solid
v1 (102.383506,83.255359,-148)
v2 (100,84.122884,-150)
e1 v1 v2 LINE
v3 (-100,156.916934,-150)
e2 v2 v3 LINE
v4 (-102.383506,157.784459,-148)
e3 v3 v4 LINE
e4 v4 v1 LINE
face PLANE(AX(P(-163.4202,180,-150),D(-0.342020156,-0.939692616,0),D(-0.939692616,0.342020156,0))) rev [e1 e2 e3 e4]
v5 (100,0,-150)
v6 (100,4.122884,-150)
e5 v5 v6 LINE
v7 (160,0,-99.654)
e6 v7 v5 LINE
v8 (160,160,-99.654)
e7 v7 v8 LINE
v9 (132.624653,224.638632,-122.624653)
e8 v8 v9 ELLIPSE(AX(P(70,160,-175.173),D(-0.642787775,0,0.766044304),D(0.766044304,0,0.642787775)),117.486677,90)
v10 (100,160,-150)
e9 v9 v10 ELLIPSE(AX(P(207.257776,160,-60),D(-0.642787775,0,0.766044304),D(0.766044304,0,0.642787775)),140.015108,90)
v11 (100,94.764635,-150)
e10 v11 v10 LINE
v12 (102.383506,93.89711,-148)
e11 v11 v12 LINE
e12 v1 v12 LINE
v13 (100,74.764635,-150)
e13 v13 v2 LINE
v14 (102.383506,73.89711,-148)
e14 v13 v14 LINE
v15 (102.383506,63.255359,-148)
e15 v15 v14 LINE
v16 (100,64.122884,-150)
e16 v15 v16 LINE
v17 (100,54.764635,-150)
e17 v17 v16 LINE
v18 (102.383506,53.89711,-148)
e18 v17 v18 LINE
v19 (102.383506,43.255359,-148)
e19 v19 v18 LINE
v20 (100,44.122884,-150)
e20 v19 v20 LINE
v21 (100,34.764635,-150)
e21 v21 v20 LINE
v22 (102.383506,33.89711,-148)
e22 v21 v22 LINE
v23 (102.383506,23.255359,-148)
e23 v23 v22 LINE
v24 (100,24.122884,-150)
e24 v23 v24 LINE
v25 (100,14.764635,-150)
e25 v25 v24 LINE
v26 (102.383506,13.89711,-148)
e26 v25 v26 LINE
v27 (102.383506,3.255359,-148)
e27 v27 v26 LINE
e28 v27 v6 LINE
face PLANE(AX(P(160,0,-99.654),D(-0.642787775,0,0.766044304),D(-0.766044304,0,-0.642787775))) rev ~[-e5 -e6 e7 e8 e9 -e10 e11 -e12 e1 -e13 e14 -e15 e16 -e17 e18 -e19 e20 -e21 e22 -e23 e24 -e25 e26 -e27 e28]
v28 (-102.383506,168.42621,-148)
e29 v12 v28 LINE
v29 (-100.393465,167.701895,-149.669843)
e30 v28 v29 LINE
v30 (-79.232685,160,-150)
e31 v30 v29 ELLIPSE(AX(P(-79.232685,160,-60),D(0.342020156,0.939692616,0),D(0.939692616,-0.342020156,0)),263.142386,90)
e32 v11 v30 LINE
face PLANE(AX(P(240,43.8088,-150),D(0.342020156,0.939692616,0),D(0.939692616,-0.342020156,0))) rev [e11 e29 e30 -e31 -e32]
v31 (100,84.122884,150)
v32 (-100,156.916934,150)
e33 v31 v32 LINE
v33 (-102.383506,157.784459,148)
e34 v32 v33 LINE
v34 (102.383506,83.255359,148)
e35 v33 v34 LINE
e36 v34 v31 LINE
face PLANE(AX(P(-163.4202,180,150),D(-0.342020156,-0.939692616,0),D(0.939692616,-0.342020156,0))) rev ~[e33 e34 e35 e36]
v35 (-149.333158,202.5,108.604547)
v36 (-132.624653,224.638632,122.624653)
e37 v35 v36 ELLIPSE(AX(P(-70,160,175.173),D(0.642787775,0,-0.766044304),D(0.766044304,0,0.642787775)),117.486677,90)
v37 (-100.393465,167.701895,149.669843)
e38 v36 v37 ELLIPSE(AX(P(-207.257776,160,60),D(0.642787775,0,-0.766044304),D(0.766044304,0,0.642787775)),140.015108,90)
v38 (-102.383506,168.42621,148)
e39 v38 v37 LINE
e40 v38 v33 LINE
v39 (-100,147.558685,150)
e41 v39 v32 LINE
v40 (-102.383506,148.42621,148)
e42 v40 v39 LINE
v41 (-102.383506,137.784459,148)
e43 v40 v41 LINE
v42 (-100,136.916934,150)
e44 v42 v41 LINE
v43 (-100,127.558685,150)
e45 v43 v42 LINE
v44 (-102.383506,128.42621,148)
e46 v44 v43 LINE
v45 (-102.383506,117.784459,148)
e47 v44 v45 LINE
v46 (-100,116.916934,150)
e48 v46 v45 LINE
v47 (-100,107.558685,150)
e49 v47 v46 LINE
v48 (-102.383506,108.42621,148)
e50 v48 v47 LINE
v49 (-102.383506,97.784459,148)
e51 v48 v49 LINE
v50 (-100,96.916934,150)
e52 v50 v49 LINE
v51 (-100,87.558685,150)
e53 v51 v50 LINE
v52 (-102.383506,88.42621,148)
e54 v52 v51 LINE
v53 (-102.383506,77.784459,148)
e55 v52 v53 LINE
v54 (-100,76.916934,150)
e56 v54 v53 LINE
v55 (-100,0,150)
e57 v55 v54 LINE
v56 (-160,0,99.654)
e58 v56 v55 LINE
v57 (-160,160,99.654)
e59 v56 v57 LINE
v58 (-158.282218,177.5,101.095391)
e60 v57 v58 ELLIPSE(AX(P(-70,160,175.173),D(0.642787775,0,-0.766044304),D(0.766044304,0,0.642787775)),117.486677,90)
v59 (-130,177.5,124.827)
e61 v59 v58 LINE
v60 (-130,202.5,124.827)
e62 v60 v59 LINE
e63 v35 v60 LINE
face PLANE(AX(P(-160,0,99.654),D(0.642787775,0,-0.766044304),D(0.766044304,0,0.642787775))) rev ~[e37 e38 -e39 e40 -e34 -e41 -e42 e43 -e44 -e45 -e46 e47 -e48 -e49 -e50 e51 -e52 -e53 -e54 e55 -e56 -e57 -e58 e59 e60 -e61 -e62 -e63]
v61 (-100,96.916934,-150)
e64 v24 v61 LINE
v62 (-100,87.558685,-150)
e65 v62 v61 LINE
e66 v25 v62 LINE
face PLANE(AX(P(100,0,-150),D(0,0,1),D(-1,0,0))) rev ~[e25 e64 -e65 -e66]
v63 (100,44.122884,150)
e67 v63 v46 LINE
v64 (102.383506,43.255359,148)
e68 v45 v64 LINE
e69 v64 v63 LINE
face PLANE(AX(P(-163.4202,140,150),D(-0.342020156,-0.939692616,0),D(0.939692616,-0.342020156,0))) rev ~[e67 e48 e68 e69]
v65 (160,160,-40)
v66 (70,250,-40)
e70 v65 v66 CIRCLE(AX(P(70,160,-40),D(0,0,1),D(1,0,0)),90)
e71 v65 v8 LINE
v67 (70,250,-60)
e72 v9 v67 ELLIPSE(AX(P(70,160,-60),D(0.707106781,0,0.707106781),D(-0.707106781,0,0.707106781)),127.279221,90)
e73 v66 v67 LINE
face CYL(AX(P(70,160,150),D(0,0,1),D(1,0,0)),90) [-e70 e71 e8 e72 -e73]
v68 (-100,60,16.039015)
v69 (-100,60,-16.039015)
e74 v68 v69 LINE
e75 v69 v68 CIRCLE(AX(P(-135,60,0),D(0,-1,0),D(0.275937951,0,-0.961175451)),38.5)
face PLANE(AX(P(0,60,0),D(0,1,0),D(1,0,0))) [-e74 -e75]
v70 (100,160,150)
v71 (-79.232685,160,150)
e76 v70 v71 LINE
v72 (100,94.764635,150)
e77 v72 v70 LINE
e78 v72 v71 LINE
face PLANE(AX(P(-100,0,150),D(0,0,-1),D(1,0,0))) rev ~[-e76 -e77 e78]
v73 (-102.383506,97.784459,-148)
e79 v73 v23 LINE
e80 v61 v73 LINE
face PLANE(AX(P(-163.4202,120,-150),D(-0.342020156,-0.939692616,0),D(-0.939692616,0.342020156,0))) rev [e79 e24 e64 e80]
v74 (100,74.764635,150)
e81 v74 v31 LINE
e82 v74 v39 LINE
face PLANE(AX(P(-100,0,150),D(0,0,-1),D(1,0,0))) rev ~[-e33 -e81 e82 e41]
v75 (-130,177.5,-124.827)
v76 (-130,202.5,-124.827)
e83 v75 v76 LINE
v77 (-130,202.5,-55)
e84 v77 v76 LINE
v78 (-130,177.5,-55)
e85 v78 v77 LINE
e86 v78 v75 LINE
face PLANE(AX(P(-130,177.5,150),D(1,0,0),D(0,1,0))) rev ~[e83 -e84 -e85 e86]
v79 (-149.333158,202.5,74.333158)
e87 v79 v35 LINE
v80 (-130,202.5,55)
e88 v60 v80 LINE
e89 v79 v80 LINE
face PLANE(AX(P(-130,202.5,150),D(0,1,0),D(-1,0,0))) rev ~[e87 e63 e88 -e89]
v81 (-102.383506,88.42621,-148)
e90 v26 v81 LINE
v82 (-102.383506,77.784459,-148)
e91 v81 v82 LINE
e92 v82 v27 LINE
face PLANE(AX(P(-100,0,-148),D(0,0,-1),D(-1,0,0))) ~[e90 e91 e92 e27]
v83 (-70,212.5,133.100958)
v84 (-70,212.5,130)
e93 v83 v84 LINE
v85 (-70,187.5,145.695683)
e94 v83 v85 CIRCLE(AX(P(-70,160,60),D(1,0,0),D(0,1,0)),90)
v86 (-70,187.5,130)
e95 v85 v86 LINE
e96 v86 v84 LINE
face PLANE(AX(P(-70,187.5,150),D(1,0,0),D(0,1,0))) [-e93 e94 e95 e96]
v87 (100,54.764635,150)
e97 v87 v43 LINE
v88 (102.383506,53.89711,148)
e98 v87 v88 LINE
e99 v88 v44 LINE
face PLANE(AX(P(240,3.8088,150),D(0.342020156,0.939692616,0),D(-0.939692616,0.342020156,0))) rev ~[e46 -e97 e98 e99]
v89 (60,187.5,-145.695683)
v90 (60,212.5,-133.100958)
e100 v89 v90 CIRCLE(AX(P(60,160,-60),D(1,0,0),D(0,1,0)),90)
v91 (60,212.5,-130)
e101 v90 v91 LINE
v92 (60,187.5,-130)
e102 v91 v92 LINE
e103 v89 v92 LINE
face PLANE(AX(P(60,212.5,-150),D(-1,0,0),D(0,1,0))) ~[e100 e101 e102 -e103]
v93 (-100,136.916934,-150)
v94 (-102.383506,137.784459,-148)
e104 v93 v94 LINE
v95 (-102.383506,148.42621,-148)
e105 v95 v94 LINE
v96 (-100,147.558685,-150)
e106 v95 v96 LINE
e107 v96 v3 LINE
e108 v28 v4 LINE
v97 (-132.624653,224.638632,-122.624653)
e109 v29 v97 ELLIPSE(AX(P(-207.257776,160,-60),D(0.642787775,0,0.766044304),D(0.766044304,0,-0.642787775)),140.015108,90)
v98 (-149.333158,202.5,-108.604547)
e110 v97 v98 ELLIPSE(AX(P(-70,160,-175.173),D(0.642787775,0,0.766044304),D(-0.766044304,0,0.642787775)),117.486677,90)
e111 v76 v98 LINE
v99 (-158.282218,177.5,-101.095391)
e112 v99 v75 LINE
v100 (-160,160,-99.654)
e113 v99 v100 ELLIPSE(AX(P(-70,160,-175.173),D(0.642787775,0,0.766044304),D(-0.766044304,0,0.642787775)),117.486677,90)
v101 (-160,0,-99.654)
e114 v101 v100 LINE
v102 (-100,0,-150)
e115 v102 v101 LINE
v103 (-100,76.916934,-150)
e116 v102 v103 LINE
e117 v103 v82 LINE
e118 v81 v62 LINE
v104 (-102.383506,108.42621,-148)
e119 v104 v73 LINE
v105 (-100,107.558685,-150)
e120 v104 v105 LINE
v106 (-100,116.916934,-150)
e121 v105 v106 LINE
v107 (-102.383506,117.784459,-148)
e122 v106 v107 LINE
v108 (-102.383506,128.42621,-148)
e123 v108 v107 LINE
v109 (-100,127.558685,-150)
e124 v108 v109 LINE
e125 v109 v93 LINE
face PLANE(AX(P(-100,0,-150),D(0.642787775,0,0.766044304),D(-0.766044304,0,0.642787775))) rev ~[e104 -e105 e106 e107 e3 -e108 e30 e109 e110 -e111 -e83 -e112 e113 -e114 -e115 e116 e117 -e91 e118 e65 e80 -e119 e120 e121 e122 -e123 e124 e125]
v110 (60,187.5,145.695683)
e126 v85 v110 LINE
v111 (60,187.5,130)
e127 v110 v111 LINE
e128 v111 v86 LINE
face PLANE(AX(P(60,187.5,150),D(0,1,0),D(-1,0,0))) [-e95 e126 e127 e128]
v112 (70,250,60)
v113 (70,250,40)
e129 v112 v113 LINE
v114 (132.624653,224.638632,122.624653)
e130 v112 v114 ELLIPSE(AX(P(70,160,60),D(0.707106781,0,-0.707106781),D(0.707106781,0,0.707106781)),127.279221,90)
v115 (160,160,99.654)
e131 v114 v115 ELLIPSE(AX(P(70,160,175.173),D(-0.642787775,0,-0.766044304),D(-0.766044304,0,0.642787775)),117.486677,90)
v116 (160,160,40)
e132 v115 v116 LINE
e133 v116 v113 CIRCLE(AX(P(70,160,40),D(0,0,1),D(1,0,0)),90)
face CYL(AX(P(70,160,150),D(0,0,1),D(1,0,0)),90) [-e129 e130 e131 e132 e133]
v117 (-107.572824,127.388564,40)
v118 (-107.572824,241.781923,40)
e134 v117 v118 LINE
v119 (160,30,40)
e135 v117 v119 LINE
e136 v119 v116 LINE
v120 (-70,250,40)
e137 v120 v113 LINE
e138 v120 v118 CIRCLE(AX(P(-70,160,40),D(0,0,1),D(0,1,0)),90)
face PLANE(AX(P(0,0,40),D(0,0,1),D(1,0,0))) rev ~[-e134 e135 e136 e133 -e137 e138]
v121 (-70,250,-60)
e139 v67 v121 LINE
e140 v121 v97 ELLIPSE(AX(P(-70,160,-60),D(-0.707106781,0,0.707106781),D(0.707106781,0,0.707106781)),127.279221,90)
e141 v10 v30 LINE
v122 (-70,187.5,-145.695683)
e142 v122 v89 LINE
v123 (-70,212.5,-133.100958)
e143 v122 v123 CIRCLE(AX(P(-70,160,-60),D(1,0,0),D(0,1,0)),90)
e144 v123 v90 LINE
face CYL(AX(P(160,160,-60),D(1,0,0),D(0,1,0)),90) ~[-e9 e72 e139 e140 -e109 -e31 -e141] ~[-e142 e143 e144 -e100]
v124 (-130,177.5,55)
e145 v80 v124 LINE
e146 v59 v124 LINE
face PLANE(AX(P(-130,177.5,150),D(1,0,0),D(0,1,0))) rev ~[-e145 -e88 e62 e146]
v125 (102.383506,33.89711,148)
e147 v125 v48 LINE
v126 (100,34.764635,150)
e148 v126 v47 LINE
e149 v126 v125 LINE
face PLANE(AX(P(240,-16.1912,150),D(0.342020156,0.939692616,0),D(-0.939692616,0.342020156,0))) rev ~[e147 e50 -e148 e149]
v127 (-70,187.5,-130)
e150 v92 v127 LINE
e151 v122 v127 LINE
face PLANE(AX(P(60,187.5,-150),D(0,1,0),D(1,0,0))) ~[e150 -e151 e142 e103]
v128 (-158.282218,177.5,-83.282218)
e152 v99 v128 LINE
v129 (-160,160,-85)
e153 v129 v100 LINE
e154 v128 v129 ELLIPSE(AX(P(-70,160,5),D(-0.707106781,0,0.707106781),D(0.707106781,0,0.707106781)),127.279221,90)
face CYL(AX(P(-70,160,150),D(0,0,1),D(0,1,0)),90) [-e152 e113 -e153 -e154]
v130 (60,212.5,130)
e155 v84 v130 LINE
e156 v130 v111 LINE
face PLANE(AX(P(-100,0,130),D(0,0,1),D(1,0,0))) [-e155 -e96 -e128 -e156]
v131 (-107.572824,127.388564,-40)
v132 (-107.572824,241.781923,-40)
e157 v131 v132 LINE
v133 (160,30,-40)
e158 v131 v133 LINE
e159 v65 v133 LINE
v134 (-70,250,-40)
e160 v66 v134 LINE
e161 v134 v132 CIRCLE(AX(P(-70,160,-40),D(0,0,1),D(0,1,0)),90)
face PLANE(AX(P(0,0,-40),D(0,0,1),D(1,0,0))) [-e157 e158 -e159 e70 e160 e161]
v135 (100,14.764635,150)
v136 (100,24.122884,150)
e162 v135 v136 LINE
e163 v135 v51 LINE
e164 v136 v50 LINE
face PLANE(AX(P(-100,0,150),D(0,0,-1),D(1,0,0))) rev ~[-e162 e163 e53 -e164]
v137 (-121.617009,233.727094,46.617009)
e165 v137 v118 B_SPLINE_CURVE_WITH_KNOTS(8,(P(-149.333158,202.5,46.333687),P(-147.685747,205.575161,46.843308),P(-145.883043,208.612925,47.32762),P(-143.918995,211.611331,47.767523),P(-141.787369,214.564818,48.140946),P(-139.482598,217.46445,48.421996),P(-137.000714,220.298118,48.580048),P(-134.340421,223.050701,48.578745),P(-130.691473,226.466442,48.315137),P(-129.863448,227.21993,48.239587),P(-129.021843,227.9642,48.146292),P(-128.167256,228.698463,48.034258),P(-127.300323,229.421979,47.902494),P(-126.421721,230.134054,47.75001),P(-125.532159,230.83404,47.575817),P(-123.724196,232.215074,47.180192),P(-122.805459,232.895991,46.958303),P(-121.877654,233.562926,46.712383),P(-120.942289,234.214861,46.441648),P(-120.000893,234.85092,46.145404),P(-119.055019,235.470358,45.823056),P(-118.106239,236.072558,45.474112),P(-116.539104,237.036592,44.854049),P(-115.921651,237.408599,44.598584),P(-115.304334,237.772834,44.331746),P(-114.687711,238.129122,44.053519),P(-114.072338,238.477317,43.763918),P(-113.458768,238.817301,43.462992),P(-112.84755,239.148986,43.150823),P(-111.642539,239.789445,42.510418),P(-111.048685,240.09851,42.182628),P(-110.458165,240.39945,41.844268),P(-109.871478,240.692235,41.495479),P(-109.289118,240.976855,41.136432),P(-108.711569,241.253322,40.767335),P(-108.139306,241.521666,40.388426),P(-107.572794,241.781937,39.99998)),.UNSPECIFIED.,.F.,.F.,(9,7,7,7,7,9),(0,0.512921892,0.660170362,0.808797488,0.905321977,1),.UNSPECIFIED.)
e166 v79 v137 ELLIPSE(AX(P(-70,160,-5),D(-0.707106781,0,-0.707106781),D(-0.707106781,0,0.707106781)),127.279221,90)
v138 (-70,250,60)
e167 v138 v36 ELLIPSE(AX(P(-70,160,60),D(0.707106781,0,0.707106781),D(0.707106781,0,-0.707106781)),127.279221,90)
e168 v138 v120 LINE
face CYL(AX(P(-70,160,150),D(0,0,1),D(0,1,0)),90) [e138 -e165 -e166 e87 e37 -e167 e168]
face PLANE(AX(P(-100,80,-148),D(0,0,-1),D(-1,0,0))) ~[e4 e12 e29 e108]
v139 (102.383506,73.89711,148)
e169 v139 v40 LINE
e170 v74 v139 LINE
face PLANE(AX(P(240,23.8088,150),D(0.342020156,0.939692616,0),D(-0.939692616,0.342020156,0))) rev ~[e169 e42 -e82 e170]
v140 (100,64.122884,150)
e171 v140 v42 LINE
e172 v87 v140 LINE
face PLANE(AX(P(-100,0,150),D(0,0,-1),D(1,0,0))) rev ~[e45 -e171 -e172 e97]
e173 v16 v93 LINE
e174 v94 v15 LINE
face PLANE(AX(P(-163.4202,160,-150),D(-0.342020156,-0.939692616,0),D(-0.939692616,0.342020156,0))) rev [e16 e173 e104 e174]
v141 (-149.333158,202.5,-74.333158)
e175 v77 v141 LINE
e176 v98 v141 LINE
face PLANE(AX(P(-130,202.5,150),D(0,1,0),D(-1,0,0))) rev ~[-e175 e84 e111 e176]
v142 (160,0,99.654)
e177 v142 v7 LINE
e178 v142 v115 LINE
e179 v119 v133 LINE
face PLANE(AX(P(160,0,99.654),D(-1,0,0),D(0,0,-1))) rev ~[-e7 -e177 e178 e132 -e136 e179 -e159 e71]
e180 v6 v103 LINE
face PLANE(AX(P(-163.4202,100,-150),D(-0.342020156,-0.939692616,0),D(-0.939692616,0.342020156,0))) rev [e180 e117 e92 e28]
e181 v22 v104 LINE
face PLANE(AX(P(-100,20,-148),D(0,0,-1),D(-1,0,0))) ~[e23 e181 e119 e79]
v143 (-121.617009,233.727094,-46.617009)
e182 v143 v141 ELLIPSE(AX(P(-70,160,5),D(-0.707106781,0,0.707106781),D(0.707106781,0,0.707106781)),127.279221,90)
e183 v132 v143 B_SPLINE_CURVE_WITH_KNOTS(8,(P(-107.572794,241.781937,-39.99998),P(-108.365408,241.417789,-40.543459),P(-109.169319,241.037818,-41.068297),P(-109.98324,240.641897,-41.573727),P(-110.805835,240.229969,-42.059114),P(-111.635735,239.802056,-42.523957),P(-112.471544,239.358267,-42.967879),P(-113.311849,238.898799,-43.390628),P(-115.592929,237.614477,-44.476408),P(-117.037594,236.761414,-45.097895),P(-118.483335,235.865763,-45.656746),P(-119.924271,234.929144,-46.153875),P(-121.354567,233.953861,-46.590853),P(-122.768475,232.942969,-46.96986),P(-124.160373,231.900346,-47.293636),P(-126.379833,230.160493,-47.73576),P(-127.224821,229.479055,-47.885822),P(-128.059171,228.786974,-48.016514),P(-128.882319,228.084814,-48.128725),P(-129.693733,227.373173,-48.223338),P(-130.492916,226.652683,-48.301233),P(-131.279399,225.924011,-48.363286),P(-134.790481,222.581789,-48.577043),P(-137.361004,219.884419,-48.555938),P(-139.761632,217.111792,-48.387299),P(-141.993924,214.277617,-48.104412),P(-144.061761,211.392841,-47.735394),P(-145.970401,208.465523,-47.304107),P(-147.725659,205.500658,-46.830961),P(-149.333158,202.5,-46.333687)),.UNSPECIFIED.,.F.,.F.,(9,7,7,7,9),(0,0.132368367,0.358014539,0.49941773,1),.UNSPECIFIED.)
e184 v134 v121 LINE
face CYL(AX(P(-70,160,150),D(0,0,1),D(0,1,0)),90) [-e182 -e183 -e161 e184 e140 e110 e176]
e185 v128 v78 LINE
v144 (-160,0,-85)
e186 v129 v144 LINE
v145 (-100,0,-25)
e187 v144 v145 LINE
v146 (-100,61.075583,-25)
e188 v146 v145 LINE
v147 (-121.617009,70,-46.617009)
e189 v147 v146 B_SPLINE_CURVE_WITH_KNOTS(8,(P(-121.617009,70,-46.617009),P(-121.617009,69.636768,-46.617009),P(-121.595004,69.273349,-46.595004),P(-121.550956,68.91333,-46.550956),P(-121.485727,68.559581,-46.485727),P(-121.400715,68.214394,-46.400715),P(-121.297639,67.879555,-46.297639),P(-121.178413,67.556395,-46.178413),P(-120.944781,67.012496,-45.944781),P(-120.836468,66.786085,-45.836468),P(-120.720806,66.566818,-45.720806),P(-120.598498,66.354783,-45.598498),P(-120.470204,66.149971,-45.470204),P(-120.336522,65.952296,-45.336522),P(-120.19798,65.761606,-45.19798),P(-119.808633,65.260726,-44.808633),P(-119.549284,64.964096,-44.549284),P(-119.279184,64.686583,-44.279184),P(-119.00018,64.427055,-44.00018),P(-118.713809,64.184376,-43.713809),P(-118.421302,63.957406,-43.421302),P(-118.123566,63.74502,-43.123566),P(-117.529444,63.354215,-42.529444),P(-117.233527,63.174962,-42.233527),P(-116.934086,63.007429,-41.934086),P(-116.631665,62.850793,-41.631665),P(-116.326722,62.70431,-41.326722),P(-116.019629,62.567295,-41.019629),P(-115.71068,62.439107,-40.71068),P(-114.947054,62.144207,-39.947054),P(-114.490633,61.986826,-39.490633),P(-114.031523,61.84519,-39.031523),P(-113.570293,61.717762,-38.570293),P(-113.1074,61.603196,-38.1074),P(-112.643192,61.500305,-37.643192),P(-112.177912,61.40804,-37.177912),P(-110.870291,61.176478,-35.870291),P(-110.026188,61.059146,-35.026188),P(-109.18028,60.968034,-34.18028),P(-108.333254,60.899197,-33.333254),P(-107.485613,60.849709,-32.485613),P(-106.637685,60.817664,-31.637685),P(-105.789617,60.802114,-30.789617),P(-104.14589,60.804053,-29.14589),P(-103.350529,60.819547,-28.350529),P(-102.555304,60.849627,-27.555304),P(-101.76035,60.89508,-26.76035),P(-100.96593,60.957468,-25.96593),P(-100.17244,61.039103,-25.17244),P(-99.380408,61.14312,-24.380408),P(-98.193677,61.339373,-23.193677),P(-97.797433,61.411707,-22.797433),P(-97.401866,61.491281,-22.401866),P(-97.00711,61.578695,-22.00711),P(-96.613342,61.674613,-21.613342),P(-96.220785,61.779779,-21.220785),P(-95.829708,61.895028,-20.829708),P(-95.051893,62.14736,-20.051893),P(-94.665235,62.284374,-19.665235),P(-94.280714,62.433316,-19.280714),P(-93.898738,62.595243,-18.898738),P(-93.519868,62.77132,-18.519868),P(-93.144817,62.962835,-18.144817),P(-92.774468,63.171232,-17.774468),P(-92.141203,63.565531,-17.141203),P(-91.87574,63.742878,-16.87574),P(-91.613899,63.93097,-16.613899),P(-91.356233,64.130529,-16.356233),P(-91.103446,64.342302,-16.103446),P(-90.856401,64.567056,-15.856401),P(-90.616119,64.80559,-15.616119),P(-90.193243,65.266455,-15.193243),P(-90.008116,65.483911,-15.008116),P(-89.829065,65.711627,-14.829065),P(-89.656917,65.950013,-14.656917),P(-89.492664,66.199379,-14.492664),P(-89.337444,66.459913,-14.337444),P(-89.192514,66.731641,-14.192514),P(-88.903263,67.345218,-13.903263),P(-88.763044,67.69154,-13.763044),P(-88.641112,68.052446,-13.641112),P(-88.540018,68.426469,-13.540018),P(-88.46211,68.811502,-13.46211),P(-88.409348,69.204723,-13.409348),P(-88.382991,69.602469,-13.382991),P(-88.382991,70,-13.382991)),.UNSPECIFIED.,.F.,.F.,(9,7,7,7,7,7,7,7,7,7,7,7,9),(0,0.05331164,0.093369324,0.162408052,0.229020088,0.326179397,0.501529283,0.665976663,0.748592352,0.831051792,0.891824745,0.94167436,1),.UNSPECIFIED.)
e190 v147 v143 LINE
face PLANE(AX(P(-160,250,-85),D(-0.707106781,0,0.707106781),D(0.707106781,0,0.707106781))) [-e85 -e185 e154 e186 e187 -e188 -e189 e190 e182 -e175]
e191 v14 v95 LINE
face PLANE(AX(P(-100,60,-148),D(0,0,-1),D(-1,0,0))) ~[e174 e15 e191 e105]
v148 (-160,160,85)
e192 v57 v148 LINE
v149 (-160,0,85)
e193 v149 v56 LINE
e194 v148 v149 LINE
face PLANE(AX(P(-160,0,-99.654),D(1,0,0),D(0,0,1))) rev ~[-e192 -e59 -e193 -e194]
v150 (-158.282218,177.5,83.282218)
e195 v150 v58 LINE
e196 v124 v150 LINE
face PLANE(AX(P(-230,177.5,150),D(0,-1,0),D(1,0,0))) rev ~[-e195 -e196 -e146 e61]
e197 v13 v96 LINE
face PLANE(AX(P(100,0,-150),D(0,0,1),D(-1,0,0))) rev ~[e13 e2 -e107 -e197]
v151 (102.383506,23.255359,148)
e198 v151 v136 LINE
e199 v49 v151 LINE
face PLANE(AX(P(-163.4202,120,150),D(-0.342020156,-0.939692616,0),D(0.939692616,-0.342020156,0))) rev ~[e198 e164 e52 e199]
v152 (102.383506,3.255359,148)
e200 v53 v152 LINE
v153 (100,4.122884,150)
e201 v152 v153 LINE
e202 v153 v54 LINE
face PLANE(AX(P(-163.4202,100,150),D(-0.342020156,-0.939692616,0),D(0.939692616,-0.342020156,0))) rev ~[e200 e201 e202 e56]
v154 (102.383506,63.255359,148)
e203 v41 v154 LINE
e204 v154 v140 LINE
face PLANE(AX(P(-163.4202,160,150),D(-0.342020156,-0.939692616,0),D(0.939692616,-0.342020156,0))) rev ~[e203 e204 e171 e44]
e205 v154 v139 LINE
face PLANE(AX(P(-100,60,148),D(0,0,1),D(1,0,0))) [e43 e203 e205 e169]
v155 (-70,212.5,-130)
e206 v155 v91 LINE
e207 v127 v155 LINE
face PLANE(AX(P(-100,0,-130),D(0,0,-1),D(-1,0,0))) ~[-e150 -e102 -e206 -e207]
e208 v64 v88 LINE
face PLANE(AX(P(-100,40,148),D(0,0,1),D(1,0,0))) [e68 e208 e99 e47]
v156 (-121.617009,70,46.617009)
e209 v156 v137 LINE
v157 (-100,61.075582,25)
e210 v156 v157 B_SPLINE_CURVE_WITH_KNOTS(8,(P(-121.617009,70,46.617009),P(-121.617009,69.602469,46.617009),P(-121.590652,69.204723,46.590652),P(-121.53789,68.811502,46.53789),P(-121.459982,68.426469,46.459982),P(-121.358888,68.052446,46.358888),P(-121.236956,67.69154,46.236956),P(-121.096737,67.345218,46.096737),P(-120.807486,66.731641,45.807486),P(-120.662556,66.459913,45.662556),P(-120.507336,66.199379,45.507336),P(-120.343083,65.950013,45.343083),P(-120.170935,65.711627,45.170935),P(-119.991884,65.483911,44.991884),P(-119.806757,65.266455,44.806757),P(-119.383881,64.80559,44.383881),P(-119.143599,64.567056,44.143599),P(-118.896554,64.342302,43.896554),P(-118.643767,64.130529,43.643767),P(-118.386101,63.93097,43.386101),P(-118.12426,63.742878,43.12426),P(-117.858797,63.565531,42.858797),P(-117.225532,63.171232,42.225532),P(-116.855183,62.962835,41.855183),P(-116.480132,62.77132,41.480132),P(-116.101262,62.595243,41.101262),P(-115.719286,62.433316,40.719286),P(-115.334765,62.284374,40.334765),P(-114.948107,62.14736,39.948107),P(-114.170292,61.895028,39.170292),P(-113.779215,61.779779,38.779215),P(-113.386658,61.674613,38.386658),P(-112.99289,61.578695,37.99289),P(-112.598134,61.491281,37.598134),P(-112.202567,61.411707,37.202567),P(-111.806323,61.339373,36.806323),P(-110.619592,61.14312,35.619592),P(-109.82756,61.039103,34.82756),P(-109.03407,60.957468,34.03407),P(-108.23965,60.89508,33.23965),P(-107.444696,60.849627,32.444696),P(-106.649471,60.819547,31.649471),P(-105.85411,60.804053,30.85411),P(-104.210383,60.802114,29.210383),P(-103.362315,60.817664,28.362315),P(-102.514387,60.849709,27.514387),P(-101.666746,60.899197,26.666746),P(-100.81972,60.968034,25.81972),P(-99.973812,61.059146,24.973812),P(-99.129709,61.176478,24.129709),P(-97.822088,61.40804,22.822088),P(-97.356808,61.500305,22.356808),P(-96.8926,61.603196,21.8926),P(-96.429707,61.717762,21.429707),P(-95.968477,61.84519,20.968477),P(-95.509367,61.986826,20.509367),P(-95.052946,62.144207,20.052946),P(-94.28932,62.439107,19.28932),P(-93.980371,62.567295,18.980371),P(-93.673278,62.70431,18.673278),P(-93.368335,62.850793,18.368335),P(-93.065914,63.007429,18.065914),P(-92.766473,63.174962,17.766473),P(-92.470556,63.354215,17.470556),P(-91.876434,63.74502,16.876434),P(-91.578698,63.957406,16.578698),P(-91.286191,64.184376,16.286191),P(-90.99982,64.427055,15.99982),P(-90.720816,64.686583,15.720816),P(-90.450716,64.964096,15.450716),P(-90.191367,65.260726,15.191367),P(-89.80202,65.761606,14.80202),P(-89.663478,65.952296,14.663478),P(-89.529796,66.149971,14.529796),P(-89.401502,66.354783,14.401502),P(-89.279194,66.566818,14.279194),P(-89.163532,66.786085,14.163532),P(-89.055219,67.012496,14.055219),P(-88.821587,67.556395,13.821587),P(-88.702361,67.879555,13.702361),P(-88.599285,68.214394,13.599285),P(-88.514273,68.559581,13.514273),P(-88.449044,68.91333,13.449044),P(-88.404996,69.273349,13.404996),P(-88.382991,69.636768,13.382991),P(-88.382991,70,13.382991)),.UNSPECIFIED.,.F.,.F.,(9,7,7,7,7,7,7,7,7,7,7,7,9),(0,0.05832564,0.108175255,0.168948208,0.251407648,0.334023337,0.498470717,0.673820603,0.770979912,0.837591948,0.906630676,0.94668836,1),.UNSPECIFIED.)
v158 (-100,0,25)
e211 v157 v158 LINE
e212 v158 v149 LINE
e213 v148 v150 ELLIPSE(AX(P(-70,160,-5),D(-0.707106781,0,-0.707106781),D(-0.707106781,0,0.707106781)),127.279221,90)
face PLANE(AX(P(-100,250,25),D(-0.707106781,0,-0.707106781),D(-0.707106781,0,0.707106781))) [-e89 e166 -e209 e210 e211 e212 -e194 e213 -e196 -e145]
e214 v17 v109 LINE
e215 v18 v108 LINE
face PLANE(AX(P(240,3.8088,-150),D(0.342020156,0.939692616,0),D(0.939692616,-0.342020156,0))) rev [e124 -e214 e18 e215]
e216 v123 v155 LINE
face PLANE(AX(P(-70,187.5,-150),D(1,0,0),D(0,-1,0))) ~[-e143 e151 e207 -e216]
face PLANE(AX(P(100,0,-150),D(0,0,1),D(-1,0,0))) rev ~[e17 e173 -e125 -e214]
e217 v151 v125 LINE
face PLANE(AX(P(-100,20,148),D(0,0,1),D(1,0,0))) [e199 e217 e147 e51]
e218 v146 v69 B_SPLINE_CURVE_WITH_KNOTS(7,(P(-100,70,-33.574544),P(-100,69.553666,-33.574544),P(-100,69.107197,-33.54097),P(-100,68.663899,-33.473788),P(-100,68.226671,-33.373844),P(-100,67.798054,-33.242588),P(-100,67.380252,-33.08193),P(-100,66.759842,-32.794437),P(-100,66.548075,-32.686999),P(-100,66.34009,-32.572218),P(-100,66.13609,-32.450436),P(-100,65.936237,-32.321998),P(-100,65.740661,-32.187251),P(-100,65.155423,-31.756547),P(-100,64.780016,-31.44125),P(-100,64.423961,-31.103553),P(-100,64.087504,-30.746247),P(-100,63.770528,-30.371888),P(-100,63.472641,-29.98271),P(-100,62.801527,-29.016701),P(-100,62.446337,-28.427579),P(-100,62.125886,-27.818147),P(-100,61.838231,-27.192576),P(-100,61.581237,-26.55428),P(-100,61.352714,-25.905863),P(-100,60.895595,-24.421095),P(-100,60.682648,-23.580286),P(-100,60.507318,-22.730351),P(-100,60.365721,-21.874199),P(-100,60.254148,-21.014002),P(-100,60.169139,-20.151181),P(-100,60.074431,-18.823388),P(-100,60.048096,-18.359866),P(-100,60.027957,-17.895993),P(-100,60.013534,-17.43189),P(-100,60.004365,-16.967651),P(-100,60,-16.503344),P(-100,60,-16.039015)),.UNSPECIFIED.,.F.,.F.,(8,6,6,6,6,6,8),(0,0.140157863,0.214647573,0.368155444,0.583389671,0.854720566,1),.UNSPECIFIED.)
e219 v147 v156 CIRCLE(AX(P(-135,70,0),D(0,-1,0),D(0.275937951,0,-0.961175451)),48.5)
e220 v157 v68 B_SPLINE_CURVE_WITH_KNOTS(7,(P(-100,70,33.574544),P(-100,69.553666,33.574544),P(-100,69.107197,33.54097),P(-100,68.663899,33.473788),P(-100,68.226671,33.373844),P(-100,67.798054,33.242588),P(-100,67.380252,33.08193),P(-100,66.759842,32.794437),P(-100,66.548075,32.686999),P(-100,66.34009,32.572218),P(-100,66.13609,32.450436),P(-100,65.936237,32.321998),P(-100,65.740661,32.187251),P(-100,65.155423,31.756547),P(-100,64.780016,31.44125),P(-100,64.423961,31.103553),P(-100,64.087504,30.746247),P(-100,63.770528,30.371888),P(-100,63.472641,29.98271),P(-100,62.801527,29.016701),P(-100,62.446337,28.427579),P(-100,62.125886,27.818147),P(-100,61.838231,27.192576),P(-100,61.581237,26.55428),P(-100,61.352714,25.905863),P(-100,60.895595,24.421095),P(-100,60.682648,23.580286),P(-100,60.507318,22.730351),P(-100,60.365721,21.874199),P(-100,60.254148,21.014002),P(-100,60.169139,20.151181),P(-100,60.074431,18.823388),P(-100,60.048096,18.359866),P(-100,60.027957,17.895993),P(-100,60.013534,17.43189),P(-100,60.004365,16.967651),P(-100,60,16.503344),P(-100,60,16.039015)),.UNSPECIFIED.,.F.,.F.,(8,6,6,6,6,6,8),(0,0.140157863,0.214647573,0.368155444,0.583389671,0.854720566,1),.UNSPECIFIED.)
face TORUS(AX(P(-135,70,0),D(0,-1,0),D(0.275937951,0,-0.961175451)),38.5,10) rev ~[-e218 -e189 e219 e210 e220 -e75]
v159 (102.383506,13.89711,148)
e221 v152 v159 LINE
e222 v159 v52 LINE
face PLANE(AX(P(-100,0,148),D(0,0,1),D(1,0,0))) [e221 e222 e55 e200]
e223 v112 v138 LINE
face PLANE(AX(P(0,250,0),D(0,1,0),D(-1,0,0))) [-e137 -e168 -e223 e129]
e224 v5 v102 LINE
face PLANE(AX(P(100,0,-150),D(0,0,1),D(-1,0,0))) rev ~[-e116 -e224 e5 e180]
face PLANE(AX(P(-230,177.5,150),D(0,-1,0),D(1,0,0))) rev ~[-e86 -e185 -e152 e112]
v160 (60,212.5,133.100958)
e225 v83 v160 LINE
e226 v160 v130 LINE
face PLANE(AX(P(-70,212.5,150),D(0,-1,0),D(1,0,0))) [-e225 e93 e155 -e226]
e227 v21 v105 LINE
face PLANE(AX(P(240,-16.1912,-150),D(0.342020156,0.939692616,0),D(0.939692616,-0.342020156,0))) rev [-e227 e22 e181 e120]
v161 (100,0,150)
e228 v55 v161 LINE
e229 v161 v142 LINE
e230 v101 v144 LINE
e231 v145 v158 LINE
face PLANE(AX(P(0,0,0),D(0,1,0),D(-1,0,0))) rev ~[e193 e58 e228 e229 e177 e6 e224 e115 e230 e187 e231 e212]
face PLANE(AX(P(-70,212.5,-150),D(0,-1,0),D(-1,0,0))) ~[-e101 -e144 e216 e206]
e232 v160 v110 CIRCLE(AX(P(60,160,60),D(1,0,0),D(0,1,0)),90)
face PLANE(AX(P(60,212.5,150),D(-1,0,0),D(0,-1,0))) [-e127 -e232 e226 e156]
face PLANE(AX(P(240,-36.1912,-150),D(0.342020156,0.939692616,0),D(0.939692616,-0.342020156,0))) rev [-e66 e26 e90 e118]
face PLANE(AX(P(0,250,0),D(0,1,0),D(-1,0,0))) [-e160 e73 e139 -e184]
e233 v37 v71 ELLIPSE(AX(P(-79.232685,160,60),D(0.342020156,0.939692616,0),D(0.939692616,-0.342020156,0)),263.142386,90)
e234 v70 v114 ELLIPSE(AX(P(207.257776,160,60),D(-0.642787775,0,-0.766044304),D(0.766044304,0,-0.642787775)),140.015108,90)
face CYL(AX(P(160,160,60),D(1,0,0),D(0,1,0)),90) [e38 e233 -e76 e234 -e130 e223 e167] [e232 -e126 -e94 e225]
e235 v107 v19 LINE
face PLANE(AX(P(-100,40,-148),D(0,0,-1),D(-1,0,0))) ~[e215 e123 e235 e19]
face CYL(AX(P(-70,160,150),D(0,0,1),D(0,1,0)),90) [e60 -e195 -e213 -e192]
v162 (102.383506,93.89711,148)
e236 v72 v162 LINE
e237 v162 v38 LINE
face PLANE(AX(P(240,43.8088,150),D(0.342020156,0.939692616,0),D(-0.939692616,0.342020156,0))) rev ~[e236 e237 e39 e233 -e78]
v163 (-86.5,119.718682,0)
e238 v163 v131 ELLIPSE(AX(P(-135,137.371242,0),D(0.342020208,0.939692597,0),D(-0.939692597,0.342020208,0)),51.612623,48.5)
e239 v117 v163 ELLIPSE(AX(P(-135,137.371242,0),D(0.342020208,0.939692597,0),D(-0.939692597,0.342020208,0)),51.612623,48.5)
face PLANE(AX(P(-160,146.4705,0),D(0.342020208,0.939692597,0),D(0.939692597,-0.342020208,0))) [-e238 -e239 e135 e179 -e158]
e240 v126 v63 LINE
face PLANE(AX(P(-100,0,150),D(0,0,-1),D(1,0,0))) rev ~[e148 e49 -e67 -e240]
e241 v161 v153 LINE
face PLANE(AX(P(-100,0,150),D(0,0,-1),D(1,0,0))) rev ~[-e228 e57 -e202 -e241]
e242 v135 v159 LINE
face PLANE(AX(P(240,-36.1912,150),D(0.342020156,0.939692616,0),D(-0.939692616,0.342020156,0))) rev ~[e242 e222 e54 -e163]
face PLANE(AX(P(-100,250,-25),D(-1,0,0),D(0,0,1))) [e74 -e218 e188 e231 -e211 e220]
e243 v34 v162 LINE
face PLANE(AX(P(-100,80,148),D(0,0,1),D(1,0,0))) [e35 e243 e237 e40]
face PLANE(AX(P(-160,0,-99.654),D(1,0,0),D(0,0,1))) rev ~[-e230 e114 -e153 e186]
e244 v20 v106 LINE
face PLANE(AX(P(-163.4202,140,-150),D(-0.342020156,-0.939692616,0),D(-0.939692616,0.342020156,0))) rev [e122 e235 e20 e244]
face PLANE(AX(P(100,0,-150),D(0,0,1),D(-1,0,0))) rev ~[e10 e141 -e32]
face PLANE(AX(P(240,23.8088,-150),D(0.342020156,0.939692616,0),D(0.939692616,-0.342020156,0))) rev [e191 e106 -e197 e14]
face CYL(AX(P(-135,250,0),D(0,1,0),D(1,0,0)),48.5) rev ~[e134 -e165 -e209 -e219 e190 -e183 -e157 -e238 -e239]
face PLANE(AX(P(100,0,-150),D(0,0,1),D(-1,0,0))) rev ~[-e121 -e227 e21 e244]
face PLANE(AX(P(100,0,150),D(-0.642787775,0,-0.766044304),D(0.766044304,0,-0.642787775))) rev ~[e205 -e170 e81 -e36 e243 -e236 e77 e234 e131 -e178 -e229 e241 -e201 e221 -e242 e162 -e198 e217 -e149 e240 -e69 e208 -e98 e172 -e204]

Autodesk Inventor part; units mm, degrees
ref_plane "YZ Plane" through (0, 0, 0) normal (1, 0, 0) x (0, 1, 0)
ref_plane "XZ Plane" through (0, 0, 0) normal (0, 1, 0) x (-1, 0, 0)
ref_plane "XY Plane" through (0, 0, 0) normal (0, 0, 1) x (1, 0, 0)
sketch "Sketch1" plane through (0, 0, 0) normal (0, 1, 0) x (-1, 0, 0)
  line L0 (160, -99.654) -> (160, 99.654)
  line L1 (160, 99.654) -> (100, 150)
  line L2 (100, 150) -> (-100, 150)
  line L3 (-100, 150) -> (-160, 99.654)
  line L4 (-160, 99.654) -> (-160, -99.654)
  line L5 (-160, -99.654) -> (-100, -150)
  line L6 (-100, -150) -> (100, -150)
  line L7 (100, -150) -> (160, -99.654)
  line L8 (0, 0) -> (0, 1111.9138) construction
  point P0 (160, 0)
  point P1 (0, -150)
  dimension "d0" = 300
  dimension "d1" = 320
  dimension "d3" = 40
  dimension "d4" = 40
  dimension "d5" = 40
  dimension "d6" = 40
  dimension "d7" = 60
  dimension "d8" = 200
  dimension "d9" = 78.3244
  dimension "d10" = 199.308
  dimension "d30" = 1111.9138
extrude "Extrusion1" add sketch "Sketch1" along normal blind 250
sketch "Sketch4" plane through (0, 250, 0) normal (0, 1, 0) x (1, 0, 0)
  line L0 (-160, 99.654) -> (-160, -99.654) projected
  line L1 (-160, 85) -> (-100, 25)
  line L2 (-100, 25) -> (-100, -25)
  line L3 (-100, -25) -> (-160, -85)
  point P0 (0, 0)
  point P1 (-100, 0)
  dimension "d31" = 60
  dimension "d32" = 50
  dimension "d33" = 45
  dimension "d34" = 45
extrude "Extrusion3" cut sketch "Sketch4" against normal through all
sketch "Sketch5" plane through (160, 0, 99.654) normal (1, 0, 0) x (0, 0, -1)
  line L0 (-50.346, 0) -> (-50.346, 250) construction
  arc A0 (39.654, 250) -> (-50.346, 160) centre (39.654, 160) ccw
  line L1 (74.654, 250) -> (14.654, 250) construction
  line L2 (14.654, 250) -> (0, 250) construction
  line L3 (0, 250) -> (-50.346, 250) construction
  line L4 (-50.346, 250) -> (0, 250) construction
  line L5 (0, 250) -> (199.308, 250) construction
  line L6 (199.308, 250) -> (249.654, 250) construction
  line L7 (249.654, 250) -> (199.308, 250) construction
  line L8 (199.308, 250) -> (184.654, 250) construction
  line L9 (184.654, 250) -> (124.654, 250) construction
  line L10 (124.654, 250) -> (74.654, 250) construction
  line L11 (0, 250) -> (199.308, 250) construction
  line L12 (-50.346, 160) -> (-50.346, 250)
  line L13 (-50.346, 250) -> (39.654, 250)
  point P0 (99.654, 0)
  dimension "d37" = 90
extrude "Extrusion4" cut sketch "Sketch5" against normal through all
sketch "Sketch6" plane through (-100, 0, 150) normal (0, 0, 1) x (1, 0, 0)
  line L0 (30, 212.5) -> (160, 212.5)
  line L1 (160, 212.5) -> (160, 187.5)
  line L2 (160, 187.5) -> (30, 187.5)
  line L3 (30, 187.5) -> (30, 212.5)
  line L4 (30, 200) -> (160, 200) construction
  line L5 (0, 0) -> (200, 0) construction
  line L6 (-60, 0) -> (-60, 240.7933) construction
  point P0 (100, 0)
  dimension "d43" = 200
  dimension "d44" = 25
  dimension "d45" = 130
  dimension "d46" = 90
extrude "Extrusion5" cut sketch "Sketch6" against normal blind 20
sketch "Sketch7" plane through (-100, 0, 150) normal (0, 0, 1) x (1, 0, 0)
  arc A0 (30, 250) -> (-60, 160) centre (30, 160) ccw
  line L0 (-60, 160) -> (-60, 250)
  line L1 (-60, 250) -> (30, 250)
  line L2 (-35, 250) -> (260, 250) projected
  line L3 (-60, 0) -> (-60, 240.7933) projected
  line L4 (170, 250) -> (260, 250)
  line L5 (260, 250) -> (260, 160)
  arc A1 (260, 160) -> (170, 250) centre (170, 160) ccw
  point P0 (100, 0)
  dimension "d49" = 90
  dimension "d50" = 90
extrude "Extrusion6" cut sketch "Sketch7" against normal through all
mirror "Mirror1" about plane through (0, 0, 0) normal (0, 0, 1) of "Extrusion4", "Extrusion5"
sketch "Sketch8" plane through (0, 0, 0) normal (0, 0, 1) x (1, 0, 0)
  line L0 (-160, 250) -> (-160, 146.4705)
  line L1 (-160, 146.4705) -> (160, 30)
  line L2 (160, 30) -> (160, 250)
  line L3 (160, 250) -> (-160, 250)
  line L4 (70, 250) -> (-70, 250) projected
  line L5 (-160, 0) -> (-160, 160) projected
  line L6 (160, 0) -> (160, 160) projected
  line L7 (100, 0) -> (-100, 0) projected
  line L8 (160, 0) -> (100, 0) projected
  point P0 (0, 0)
  dimension "d53" = 20
  dimension "d77" = 30
extrude "Extrusion7" cut sketch "Sketch8" along normal mid plane 80
sketch "Sketch9" plane through (-100, 0, 150) normal (0, 0, 1) x (1, 0, 0)
  line L0 (-63.4202, 100) -> (336.5798, -45.5881)
  line L1 (336.5798, -45.5881) -> (340, -36.1912)
  line L2 (340, -36.1912) -> (-60, 109.3969)
  line L3 (-60, 109.3969) -> (-63.4202, 100)
  line L4 (0, 0) -> (200, 0) projected
  line L5 (-60, 0) -> (-60, 160) projected
  point P0 (100, 0)
  dimension "d57" = 10
  dimension "d58" = 20
  dimension "d59" = 400
  dimension "d60" = 100
extrude "Extrusion8" cut sketch "Sketch9" against normal blind 2
pattern_linear "Rectangular Pattern1" count 5 spacing 20 along (0, 1, 0) of "Extrusion8"
mirror "Mirror2" about plane through (0, 0, 0) normal (0, 0, 1) of "Extrusion8", "Rectangular Pattern1"
sketch "Sketch10" plane through (-100, 160, 150) normal (0, 0, 1) x (1, 0, 0)
  line L0 (-130, 17.5) -> (-30, 17.5)
  line L1 (-30, 17.5) -> (-30, 42.5)
  line L2 (-30, 42.5) -> (-130, 42.5)
  line L3 (-130, 42.5) -> (-130, 17.5)
  line L4 (-30, 30) -> (-130, 30) construction
  line L5 (0, -160) -> (200, -160) construction
  line L6 (-60, -160) -> (-60, 0) construction
  point P0 (100, -160)
  dimension "d66" = 190
  dimension "d67" = 25
  dimension "d68" = 30
  dimension "d69" = 100
extrude "Extrusion9" cut sketch "Sketch10" against normal through all
sketch "Sketch11" plane through (0, 250, 0) normal (0, 1, 0) x (1, 0, 0)
  circle A0 centre (-135, 0) radius 48.5
  point P0 (0, 0)
  dimension "d72" = 97
  dimension "d73" = 135
extrude "Extrusion10" cut sketch "Sketch11" against normal blind 190
fillet "Fillet1" radius 10 1 edges at (-86.5, 60, 0)
equation "\"d4\" = d3"
equation "\"d5\" = d3"
equation "\"d6\" = d3"
equation "\"d30\" = perimeter"
equation "\"d34\" = d33"
equation "\"perimeter\" = 4 * d9 + 2 * d10 + 2 * d8"
properties part number "Robot1_A"
